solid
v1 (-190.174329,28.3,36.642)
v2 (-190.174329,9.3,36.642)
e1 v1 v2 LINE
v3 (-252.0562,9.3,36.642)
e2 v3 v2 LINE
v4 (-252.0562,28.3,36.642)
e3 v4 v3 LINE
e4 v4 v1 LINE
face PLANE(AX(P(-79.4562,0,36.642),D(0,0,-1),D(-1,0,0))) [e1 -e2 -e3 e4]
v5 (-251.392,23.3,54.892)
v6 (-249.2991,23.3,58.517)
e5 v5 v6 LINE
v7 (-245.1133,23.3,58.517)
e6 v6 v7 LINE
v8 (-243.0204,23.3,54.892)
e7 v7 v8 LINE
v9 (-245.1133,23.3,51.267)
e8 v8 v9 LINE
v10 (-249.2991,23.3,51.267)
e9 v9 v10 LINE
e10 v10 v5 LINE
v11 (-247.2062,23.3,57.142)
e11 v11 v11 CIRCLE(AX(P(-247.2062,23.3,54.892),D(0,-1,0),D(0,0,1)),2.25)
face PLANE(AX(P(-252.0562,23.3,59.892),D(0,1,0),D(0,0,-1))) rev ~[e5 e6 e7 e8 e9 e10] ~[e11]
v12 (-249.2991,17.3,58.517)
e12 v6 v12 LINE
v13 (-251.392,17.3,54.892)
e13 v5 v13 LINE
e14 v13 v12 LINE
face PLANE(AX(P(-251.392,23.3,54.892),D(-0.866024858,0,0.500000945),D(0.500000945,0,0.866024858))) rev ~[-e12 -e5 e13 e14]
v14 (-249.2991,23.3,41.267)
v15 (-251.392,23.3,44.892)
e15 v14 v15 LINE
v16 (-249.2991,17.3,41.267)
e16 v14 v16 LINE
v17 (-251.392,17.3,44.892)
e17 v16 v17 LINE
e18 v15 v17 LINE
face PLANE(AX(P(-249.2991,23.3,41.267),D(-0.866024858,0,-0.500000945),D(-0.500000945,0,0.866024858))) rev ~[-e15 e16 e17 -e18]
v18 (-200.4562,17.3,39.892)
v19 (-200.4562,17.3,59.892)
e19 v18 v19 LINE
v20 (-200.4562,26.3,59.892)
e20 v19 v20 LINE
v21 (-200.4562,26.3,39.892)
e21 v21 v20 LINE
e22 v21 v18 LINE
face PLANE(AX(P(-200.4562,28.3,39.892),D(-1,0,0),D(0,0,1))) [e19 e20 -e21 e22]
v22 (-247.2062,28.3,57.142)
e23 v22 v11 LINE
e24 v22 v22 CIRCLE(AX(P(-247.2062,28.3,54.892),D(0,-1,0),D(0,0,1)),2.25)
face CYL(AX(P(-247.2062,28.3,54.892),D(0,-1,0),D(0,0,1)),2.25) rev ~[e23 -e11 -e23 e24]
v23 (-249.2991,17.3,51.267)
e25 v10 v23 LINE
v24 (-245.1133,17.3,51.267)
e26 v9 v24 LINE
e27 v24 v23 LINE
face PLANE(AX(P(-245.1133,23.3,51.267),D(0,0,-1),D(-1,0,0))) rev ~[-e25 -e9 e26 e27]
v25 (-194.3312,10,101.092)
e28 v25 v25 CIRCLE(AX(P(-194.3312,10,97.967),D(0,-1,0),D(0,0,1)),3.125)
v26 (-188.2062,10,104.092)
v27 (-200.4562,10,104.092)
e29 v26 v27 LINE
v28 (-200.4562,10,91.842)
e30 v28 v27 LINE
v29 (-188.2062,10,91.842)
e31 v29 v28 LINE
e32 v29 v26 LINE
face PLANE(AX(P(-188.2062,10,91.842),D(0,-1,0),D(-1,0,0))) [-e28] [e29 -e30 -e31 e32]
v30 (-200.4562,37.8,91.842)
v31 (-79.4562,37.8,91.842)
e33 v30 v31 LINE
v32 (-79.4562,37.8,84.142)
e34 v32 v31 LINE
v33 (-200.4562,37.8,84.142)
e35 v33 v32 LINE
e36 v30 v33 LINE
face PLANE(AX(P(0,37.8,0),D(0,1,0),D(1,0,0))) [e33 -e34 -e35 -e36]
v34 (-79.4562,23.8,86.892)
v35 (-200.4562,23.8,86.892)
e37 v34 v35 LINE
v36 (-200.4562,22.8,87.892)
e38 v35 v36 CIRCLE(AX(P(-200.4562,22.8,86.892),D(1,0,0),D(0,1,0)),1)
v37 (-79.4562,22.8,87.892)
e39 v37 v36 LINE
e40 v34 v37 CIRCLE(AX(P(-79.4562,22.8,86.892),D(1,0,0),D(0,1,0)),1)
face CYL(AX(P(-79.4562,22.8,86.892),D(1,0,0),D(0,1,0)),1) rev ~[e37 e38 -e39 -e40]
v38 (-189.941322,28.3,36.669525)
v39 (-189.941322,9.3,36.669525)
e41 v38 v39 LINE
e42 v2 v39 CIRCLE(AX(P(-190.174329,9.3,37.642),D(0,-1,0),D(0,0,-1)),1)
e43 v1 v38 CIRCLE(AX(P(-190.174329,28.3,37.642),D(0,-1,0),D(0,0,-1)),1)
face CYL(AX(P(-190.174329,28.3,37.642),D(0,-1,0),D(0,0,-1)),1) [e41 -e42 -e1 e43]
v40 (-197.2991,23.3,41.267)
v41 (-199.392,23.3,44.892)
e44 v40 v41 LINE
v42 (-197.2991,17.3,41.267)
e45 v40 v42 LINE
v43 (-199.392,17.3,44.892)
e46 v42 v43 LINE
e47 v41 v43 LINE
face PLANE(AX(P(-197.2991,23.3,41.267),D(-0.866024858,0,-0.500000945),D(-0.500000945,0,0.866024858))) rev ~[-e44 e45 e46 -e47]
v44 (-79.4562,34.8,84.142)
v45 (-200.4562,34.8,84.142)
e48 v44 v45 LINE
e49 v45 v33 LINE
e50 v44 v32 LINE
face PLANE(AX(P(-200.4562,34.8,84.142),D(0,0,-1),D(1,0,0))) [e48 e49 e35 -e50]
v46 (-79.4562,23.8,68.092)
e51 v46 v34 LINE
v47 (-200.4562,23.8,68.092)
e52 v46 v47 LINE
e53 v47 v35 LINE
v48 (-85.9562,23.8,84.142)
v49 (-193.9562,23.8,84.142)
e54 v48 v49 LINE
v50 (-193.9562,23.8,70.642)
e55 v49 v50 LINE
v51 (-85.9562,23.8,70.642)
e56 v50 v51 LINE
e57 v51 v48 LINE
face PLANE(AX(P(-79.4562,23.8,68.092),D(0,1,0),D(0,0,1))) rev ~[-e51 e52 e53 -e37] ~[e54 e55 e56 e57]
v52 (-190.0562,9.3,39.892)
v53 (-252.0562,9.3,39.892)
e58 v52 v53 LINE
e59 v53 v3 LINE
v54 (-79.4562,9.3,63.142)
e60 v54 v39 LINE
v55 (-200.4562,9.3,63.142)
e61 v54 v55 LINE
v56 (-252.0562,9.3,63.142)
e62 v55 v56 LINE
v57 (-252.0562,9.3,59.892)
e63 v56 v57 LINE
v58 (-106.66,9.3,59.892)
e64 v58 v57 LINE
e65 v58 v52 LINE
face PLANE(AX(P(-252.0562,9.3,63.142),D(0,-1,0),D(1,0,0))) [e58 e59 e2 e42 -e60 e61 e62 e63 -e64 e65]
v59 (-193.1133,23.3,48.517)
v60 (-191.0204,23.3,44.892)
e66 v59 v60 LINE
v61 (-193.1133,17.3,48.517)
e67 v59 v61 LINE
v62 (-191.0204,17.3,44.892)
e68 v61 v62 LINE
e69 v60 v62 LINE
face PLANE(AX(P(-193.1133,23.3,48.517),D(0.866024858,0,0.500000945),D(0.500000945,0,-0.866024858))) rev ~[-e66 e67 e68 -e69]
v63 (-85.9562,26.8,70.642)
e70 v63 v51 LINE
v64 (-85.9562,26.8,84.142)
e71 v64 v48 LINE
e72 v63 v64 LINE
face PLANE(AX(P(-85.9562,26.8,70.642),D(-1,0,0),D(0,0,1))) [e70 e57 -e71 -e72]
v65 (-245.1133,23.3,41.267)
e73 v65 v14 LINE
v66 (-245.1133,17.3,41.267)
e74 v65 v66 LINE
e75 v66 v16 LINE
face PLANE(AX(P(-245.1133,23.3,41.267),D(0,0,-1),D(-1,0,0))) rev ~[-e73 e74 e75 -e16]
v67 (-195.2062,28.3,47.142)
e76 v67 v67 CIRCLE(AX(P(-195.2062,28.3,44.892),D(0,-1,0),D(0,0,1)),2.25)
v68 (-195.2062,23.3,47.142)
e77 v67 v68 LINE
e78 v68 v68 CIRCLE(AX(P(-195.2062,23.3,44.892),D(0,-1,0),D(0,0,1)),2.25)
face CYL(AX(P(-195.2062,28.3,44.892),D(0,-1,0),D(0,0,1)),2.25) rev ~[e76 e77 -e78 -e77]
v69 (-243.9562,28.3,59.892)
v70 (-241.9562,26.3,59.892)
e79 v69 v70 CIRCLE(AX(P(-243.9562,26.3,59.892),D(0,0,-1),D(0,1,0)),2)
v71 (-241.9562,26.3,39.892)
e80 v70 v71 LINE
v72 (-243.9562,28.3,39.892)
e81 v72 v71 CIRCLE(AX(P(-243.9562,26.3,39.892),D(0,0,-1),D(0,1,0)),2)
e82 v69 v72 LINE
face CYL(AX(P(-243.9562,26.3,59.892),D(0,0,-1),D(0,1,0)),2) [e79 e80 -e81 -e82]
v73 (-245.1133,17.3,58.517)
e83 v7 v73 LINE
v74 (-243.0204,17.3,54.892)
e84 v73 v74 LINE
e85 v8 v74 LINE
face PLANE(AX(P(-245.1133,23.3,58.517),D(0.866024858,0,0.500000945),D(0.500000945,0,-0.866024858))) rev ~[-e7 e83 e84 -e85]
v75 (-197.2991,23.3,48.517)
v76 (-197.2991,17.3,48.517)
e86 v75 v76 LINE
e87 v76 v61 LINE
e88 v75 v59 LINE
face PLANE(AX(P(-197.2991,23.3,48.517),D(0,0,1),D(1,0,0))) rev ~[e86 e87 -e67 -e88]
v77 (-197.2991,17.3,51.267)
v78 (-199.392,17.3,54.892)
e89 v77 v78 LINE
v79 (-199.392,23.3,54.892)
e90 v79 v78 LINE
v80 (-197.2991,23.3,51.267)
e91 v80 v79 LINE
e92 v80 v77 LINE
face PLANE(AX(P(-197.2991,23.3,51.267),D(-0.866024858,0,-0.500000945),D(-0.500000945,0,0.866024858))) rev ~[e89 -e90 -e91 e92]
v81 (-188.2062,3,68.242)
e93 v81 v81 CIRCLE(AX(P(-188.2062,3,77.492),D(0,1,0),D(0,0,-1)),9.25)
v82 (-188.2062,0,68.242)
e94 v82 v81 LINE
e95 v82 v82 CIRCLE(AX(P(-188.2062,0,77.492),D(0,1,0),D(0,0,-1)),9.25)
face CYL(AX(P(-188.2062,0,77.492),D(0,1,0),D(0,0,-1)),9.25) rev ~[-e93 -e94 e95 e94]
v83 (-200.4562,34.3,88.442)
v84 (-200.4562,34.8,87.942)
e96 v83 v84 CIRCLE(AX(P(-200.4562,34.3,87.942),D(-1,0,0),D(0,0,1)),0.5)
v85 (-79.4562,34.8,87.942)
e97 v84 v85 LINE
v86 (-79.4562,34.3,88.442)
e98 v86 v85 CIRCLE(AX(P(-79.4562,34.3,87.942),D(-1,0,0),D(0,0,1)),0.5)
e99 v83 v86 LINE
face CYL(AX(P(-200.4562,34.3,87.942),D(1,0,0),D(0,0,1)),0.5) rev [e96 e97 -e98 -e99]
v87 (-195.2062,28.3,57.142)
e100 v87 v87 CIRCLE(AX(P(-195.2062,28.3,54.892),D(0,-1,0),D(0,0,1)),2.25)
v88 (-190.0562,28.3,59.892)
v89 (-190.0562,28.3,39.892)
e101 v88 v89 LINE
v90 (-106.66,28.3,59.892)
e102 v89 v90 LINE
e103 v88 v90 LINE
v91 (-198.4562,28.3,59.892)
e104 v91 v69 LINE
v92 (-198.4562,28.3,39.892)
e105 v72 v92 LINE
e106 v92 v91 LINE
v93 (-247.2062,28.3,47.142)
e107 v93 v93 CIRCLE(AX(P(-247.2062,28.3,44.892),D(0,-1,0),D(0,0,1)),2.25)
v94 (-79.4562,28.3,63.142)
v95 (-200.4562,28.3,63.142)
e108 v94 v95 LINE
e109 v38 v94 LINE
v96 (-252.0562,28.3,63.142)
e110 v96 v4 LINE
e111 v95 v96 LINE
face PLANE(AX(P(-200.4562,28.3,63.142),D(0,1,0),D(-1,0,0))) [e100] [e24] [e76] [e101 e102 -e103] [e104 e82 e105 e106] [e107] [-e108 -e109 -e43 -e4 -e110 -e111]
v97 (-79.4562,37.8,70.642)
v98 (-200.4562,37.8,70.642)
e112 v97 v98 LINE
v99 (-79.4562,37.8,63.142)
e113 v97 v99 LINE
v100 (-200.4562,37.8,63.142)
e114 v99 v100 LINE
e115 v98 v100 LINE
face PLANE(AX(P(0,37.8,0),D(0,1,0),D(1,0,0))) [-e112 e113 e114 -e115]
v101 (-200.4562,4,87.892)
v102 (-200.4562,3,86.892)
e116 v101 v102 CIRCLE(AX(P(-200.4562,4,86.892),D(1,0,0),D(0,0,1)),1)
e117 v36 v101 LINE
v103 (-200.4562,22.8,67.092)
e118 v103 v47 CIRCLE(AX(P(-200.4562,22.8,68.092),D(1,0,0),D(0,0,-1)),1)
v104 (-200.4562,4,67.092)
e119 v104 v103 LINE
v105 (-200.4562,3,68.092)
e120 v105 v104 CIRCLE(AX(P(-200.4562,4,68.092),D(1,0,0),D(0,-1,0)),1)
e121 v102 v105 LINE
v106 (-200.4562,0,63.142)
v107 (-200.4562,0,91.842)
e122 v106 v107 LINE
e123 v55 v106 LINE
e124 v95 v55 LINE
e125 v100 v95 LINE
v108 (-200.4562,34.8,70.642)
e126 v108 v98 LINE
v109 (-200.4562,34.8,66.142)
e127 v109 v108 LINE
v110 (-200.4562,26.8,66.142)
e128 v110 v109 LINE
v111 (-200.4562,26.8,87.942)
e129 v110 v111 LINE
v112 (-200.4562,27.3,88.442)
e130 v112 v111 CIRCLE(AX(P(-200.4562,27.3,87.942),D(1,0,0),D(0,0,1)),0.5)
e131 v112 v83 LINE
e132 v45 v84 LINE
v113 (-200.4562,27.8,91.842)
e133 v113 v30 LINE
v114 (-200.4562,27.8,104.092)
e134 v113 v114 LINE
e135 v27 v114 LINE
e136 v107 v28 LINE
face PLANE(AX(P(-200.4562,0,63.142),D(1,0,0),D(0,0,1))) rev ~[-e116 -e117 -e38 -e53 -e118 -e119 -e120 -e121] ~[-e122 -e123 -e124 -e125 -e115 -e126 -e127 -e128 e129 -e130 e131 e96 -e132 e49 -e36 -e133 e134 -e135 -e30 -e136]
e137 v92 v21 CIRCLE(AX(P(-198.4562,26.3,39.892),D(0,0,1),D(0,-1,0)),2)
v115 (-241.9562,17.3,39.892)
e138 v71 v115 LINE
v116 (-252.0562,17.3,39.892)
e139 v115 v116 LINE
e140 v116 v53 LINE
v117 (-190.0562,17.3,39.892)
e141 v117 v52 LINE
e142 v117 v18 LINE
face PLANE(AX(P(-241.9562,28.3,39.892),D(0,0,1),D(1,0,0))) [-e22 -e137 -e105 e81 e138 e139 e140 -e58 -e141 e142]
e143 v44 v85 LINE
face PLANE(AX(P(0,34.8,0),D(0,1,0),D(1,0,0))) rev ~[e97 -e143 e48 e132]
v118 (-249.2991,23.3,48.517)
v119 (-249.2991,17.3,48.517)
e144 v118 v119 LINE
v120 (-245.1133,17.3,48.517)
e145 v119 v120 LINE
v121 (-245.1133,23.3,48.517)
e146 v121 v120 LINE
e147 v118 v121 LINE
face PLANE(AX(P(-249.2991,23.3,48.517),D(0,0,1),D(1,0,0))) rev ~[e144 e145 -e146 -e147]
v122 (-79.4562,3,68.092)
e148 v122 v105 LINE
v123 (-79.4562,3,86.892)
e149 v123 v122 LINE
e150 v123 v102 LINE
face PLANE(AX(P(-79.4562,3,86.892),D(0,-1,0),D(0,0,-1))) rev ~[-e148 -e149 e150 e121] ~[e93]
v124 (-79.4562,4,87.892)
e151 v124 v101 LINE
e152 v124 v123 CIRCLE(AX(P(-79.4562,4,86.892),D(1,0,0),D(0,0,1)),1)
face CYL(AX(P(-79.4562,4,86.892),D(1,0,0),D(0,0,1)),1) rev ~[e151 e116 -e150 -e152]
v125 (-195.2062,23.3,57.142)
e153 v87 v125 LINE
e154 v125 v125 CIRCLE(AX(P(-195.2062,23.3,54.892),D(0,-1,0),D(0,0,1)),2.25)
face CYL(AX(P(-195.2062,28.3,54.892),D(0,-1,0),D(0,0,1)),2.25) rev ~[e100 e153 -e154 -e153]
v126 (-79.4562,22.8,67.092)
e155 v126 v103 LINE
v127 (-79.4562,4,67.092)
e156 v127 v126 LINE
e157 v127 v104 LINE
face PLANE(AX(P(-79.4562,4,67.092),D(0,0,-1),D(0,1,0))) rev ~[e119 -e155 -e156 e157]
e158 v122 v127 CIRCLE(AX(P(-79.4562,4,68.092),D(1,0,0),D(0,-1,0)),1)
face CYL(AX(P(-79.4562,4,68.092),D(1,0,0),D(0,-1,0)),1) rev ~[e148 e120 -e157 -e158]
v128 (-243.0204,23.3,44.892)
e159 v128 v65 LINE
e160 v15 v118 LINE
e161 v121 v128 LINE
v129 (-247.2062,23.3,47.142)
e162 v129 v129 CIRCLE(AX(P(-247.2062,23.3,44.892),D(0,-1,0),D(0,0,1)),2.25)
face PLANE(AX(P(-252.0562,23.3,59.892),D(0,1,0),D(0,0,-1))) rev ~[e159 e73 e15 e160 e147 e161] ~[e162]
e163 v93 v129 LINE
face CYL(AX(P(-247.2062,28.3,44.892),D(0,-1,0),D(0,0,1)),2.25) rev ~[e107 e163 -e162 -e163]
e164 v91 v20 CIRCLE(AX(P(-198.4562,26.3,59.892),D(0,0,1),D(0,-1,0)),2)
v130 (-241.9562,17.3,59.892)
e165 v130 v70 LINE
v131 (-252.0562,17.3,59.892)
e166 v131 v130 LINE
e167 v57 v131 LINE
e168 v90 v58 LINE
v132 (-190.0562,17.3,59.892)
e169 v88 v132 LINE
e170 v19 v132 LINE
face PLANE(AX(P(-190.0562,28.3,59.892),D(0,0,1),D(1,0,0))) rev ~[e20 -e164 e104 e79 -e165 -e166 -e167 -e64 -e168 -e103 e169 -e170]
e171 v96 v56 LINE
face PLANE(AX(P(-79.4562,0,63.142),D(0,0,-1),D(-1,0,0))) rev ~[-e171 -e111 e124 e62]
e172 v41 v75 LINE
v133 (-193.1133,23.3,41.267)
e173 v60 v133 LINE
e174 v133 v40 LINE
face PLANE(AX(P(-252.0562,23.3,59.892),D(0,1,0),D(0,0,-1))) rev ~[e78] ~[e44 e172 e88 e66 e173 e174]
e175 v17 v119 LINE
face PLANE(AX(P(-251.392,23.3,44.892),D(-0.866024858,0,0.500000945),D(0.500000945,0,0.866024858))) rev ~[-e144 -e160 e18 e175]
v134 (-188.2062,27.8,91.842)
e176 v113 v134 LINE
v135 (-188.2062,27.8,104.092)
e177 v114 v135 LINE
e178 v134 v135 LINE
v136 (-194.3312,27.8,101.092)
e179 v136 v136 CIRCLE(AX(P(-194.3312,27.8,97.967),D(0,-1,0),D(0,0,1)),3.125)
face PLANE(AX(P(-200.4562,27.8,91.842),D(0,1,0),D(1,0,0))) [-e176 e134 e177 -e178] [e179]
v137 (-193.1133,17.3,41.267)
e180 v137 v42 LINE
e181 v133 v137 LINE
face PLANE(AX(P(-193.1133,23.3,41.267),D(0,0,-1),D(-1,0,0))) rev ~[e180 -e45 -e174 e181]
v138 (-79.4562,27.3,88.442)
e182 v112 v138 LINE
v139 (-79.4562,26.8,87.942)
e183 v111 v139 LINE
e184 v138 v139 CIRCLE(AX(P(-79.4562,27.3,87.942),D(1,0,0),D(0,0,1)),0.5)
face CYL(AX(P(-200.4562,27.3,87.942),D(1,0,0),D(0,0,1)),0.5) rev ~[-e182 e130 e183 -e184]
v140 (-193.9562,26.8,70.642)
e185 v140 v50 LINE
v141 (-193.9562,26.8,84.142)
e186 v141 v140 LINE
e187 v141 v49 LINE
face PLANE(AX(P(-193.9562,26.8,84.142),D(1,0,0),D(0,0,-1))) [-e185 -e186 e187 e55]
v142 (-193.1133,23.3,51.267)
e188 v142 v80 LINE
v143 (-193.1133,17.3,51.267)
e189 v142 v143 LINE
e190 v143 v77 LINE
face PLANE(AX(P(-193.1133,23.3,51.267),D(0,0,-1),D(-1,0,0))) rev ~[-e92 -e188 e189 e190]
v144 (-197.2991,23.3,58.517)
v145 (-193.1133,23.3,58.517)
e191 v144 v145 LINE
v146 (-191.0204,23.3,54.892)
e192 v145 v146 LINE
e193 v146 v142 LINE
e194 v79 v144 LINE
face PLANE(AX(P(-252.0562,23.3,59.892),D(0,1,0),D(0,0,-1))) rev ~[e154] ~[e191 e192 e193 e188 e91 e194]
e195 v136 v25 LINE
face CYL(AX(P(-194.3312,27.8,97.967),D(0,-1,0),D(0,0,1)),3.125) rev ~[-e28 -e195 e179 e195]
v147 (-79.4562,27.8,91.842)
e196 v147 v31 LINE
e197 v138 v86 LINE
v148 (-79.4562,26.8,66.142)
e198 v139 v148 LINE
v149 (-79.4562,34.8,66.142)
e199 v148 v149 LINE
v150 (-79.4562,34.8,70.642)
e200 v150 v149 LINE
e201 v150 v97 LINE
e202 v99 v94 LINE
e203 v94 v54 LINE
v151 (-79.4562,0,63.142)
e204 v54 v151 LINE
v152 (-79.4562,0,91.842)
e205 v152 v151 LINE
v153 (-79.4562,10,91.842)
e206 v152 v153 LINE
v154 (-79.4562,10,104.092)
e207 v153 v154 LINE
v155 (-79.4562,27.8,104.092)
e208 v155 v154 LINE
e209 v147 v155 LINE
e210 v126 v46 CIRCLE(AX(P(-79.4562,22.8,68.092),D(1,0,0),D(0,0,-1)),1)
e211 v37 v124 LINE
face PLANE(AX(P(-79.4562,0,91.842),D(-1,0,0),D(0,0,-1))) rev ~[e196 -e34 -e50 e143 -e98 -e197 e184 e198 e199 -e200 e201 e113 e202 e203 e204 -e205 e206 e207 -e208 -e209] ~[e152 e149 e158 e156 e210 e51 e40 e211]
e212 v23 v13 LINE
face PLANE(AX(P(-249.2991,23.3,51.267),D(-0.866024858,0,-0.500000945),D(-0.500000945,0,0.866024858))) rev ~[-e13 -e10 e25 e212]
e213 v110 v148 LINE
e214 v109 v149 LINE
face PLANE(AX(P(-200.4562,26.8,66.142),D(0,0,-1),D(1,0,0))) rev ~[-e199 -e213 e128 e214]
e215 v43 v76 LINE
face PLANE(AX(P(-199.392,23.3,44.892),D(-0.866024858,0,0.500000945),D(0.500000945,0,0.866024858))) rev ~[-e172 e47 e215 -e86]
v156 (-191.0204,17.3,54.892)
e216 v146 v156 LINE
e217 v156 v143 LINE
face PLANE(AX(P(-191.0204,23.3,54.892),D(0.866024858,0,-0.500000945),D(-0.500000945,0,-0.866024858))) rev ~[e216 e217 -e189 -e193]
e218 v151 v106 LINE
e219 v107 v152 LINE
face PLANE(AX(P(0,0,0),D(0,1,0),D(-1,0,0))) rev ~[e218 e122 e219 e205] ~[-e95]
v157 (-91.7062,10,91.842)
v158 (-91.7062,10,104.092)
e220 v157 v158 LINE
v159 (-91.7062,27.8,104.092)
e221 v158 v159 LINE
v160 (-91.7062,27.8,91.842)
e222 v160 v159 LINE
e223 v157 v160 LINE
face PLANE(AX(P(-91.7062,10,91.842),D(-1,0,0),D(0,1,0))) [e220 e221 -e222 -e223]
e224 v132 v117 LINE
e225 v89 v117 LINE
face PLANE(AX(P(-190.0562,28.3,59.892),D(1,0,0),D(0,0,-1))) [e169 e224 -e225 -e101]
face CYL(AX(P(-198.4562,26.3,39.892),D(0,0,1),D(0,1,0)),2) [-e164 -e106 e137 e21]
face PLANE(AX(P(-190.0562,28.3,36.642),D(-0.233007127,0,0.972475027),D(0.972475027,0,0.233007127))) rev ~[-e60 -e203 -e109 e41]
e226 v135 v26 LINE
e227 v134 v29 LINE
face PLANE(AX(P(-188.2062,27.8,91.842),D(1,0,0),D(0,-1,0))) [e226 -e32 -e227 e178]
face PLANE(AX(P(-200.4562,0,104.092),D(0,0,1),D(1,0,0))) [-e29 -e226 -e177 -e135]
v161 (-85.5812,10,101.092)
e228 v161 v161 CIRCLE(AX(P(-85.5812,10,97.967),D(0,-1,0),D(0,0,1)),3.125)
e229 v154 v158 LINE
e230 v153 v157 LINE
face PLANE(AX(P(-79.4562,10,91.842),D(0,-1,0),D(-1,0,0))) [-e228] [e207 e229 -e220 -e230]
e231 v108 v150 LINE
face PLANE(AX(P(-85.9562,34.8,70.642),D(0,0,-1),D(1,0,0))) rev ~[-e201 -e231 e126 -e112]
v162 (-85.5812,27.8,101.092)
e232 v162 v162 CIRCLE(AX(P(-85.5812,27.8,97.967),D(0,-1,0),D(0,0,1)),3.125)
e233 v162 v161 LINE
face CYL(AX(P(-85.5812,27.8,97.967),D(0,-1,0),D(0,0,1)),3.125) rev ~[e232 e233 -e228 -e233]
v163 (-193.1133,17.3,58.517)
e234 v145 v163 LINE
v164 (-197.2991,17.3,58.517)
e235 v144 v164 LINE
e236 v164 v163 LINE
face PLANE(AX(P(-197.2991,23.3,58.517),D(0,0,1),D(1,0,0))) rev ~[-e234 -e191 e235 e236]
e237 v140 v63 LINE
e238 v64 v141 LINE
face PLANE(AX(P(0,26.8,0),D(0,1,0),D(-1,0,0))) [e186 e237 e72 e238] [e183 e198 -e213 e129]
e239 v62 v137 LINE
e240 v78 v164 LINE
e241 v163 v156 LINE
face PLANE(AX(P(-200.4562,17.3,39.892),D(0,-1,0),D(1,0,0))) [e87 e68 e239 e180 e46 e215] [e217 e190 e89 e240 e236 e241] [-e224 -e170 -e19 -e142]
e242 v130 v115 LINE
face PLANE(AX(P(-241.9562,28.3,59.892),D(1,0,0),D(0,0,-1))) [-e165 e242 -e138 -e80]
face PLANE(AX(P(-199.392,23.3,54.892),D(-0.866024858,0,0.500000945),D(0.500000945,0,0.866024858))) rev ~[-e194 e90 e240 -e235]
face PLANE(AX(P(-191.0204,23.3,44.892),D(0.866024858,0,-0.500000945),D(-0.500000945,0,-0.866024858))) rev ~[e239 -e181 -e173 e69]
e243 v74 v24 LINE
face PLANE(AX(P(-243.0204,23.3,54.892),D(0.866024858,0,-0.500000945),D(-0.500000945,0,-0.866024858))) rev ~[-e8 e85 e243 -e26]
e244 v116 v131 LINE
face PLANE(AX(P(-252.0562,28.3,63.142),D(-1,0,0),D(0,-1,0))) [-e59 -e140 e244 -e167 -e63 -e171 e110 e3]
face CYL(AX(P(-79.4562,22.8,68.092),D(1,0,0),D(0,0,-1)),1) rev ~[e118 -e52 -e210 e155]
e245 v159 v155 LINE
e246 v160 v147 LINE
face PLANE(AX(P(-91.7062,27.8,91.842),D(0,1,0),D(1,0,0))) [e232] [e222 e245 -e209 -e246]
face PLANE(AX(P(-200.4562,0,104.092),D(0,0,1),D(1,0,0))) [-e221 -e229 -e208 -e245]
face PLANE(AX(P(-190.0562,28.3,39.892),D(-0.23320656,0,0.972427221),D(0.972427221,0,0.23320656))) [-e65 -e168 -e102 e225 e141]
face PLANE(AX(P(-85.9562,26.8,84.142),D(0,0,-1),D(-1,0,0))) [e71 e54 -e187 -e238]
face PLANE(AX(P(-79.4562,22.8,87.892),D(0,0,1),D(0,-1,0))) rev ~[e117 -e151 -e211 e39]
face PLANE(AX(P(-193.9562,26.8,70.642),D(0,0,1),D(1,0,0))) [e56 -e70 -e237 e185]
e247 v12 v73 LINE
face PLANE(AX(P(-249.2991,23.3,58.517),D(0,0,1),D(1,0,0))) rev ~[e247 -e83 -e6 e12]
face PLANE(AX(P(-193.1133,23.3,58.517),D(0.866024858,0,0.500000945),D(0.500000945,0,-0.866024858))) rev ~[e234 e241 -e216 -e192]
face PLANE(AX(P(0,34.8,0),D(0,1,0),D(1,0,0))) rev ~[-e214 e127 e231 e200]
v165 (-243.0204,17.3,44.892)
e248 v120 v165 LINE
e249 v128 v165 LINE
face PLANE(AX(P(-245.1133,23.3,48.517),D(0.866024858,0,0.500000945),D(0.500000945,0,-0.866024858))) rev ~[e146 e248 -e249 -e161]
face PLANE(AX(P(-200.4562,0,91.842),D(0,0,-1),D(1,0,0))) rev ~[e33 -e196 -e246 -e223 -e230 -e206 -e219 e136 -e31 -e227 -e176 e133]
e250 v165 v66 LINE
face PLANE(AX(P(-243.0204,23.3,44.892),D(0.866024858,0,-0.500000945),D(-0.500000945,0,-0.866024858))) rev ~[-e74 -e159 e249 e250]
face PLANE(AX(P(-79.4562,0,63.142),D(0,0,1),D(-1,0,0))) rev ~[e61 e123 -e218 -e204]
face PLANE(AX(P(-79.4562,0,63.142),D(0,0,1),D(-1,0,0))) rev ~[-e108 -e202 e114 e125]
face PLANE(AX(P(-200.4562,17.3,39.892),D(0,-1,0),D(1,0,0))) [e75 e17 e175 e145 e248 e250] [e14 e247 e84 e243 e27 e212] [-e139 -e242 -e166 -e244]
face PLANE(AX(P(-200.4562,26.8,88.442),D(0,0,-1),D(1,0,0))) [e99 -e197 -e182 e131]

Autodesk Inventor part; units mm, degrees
ref_plane "YZ Plane" through (0, 0, 0) normal (1, 0, 0) x (0, 1, 0)
ref_plane "XZ Plane" through (0, 0, 0) normal (0, 1, 0) x (-1, 0, 0)
ref_plane "XY Plane" through (0, 0, 0) normal (0, 0, 1) x (1, 0, 0)
sketch "Sketch1" plane through (0, 0, 0) normal (0, 1, 0) x (-1, 0, 0)
  line L0 (200.4562, 91.842) -> (79.4562, 91.842)
  line L1 (79.4562, 91.842) -> (79.4562, 63.142)
  line L2 (79.4562, 63.142) -> (200.4562, 63.142)
  line L3 (200.4562, 63.142) -> (200.4562, 91.842)
  point P0 (0, 0)
  dimension "d0" = 121
  dimension "d1" = 28.7
extrude "Extrusion1" add sketch "Sketch1" along normal blind 26.8
sketch "Sketch2" plane through (-79.4562, 0, 91.842) normal (1, 0, 0) x (0, 0, -1)
  line L0 (4.95, 3) -> (23.75, 3)
  line L1 (24.75, 4) -> (24.75, 22.8)
  line L2 (23.75, 23.8) -> (4.95, 23.8)
  line L3 (3.95, 22.8) -> (3.95, 4)
  line L4 (28.7, 0) -> (28.7, 26.8) projected
  line L5 (0, 0) -> (0, 26.8) projected
  line L6 (0, 26.8) -> (28.7, 26.8) projected
  arc A0 (24.75, 22.8) -> (23.75, 23.8) centre (23.75, 22.8) ccw
  arc A1 (23.75, 3) -> (24.75, 4) centre (23.75, 4) ccw
  arc A2 (3.95, 4) -> (4.95, 3) centre (4.95, 4) ccw
  arc A3 (4.95, 23.8) -> (3.95, 22.8) centre (4.95, 22.8) ccw
  line L7 (0, 0) -> (28.7, 0) projected
  point P0 (91.842, 0)
  point P1 (3.95, 3)
  point P2 (24.75, 23.8)
  point P3 (3.95, 23.8)
  dimension "d4" = 20.8
  dimension "d5" = 20.8
  dimension "d7" = 3.95
  dimension "d8" = 3
  dimension "d9" = 1
  dimension "d137" = 3.95
  dimension "d138" = 3
extrude "Extrusion2" cut sketch "Sketch2" against normal blind 121 contours A2 L3 A3 L2 A0 L1 A1 L0
sketch "Sketch3" plane through (0, 0, 0) normal (0, -1, 0) x (1, 0, 0)
  line L0 (-200.4562, 63.142) -> (-200.4562, 91.842) projected
  line L1 (-200.4562, 91.842) -> (-79.4562, 91.842) projected
  line L2 (-79.4562, 63.142) -> (-200.4562, 63.142) projected
  circle A0 centre (-188.2062, 77.492) radius 9.25
  line L3 (-79.4562, 91.842) -> (-79.4562, 63.142) projected
  point P0 (0, 0)
  dimension "d20" = 14.35
  dimension "d21" = 18.5
  dimension "d287" = 12.25
hole "Hole1" at (-188.2062, 0, 77.492) direction (0, 1, 0) diameter 18.5 depth 5
sketch "Sketch4" plane through (0, 26.8, 0) normal (0, 1, 0) x (1, 0, 0)
  line L0 (-85.9562, -84.142) -> (-193.9562, -84.142)
  line L1 (-193.9562, -84.142) -> (-193.9562, -70.642)
  line L2 (-193.9562, -70.642) -> (-85.9562, -70.642)
  line L3 (-85.9562, -70.642) -> (-85.9562, -84.142)
  line L4 (-79.4562, -91.842) -> (-79.4562, -63.142) projected
  line L5 (-200.4562, -63.142) -> (-200.4562, -91.842) projected
  point P0 (0, 0)
  point P1 (-79.4562, -86.142)
  point P2 (-79.4562, -65.142)
  point P3 (-179.4562, -65.142)
  point P4 (-179.4562, -86.142)
  point P5 (-200.4562, -91.842)
  point P6 (-79.4562, -87.892)
  dimension "d30" = 6.5
  dimension "d31" = 6.5
  dimension "d32" = 13.5
  dimension "d41" = 3.75
extrude "Extrusion3" cut sketch "Sketch4" against normal blind 5
sketch "Sketch5" plane through (0, 26.8, 0) normal (0, 1, 0) x (1, 0, 0)
  line L0 (-79.4562, -91.842) -> (-79.4562, -63.142) projected
  line L1 (-200.4562, -63.142) -> (-200.4562, -91.842) projected
  line L2 (-79.4562, -91.842) -> (-200.4562, -91.842)
  line L3 (-200.4562, -91.842) -> (-200.4562, -88.442)
  line L4 (-200.4562, -88.442) -> (-79.4562, -88.442)
  line L5 (-79.4562, -88.442) -> (-79.4562, -91.842)
  line L6 (-79.4562, -63.142) -> (-200.4562, -63.142)
  line L7 (-200.4562, -63.142) -> (-200.4562, -66.142)
  line L8 (-200.4562, -66.142) -> (-79.4562, -66.142)
  line L9 (-79.4562, -66.142) -> (-79.4562, -63.142)
  line L10 (-79.4562, -63.142) -> (-200.4562, -63.142) projected
  line L11 (-79.4562, -87.892) -> (-79.4562, -87.642)
  line L12 (-79.4562, -87.642) -> (-79.4562, -81.492)
  point P0 (0, 0)
  point P1 (-79.4562, -66.142)
  dimension "d38" = 3.4
  dimension "d39" = 3
  dimension "d40" = 0
  dimension "d42" = 22.3
  dimension "d288" = 0.25
  dimension "d289" = 6.15
extrude "Extrusion4" add sketch "Sketch5" along normal blind 8 contours L2 L1 L4 L0 | L1 L6 L0 L8
sketch "Sketch6" plane through (0, 34.8, 0) normal (0, 1, 0) x (1, 0, 0)
  line L0 (-200.4562, -91.842) -> (-79.4562, -91.842) projected
  line L1 (-200.4562, -66.142) -> (-200.4562, -88.442) projected
  line L2 (-79.4562, -91.842) -> (-200.4562, -91.842)
  line L3 (-200.4562, -91.842) -> (-200.4562, -84.142)
  line L4 (-200.4562, -84.142) -> (-79.4562, -84.142)
  line L5 (-79.4562, -84.142) -> (-79.4562, -91.842)
  line L6 (-79.4562, -63.142) -> (-200.4562, -63.142) projected
  line L7 (-79.4562, -63.142) -> (-200.4562, -63.142)
  line L8 (-200.4562, -63.142) -> (-200.4562, -70.642)
  line L9 (-200.4562, -70.642) -> (-79.4562, -70.642)
  line L10 (-79.4562, -70.642) -> (-79.4562, -63.142)
  line L11 (-85.9562, -84.142) -> (-193.9562, -84.142) projected
  line L12 (-193.9562, -70.642) -> (-85.9562, -70.642) projected
  point P0 (0, 0)
  point P1 (-200.4562, -91.842)
  dimension "d45" = 0
  dimension "d46" = 0
extrude "Extrusion5" add sketch "Sketch6" along normal blind 3
sketch "Sketch11" plane through (-79.4562, 0, 63.142) normal (0, 0, -1) x (-1, 0, 0)
  line L0 (172.6, 9.3) -> (0, 9.3)
  line L1 (0, 9.3) -> (0, 28.3)
  line L2 (0, 28.3) -> (172.6, 28.3)
  line L3 (172.6, 28.3) -> (172.6, 9.3)
  line L4 (0, 37.8) -> (121, 37.8) projected
  line L5 (0, 0) -> (0, 37.8) projected
  line L6 (0, 0) -> (121, 0) projected
  line L7 (0, 28.3) -> (0, 49.8)
  line L8 (0, 34.8) -> (121, 34.8) projected
  line L9 (121, 0) -> (121, 37.8) projected
  point P0 (-79.4562, 0)
  point P1 (0, 3)
  dimension "d97" = 0
  dimension "d105" = 12
  dimension "d110" = 9.5
  dimension "d111" = 21.5
  dimension "d113" = 19
  dimension "d114" = 9.3
  dimension "d174" = 51.6
extrude "Extrusion9" add sketch "Sketch11" along normal blind 26.5 contours L0 L9 L2 L3 | L0 L1 L2 L9
sketch "Sketch12" plane through (-252.0562, 28.3, 63.142) normal (0, 1, 0) x (1, 0, 0)
  line L0 (51.6, 3.25) -> (10.1, 3.25)
  line L1 (10.1, 3.25) -> (10.1, 23.25)
  line L2 (10.1, 23.25) -> (51.6, 23.25)
  line L3 (51.6, 23.25) -> (51.6, 3.25)
  line L4 (0, 0) -> (51.6, 0) projected
  line L5 (0, 26.5) -> (172.6, 26.5) projected
  line L6 (0, 0) -> (0, 26.5) projected
  line L7 (51.6, 0) -> (51.6, -7.5) projected
  line L8 (172.6, 0) -> (51.6, 0) projected
  line L9 (172.6, 0) -> (172.6, 26.5) projected
  point P0 (252.0562, 63.142)
  point P1 (49.2771, 26.5)
  point P2 (51.6, -3.75)
  point P3 (82, 26.5)
  dimension "d120" = 41.5
  dimension "d121" = 20
  dimension "d122" = 3.25
  dimension "d123" = 3.25
  dimension "d127" = 0
  dimension "d128" = 10.1
extrude "Extrusion10" cut sketch "Sketch12" against normal blind 26.5 contours L0 L1 L2 L3
sketch "Sketch14" plane through (-252.0562, 28.3, 63.142) normal (0, 1, 0) x (1, 0, 0)
  circle A0 centre (4.85, 8.25) radius 2.25
  circle A1 centre (4.85, 18.25) radius 2.25
  circle A2 centre (56.85, 8.25) radius 2.25
  circle A3 centre (56.85, 18.25) radius 2.25
  line L0 (10.1, 3.25) -> (10.1, 23.25) projected
  line L1 (51.6, 23.25) -> (51.6, 3.25) projected
  line L2 (0, 0) -> (0, 26.5) projected
  line L3 (51.6, 3.25) -> (10.1, 3.25) projected
  point P0 (252.0562, 63.142)
  dimension "d141" = 4.5
  dimension "d142" = 4.5
  dimension "d143" = 4.5
  dimension "d144" = 4.5
  dimension "d145" = 5.25
  dimension "d146" = 5.25
  dimension "d148" = 4.85
  dimension "d149" = 5.25
  dimension "d150" = 10
  dimension "d151" = 5
  dimension "d153" = 5.25
  dimension "d154" = 10
  dimension "d155" = 5
sketch "Sketch15" plane through (-252.0562, 9.3, 63.142) normal (-1, 0, 0) x (0, 0, 1)
  line L0 (-23.25, 0) -> (-3.25, 0)
  line L1 (-3.25, 0) -> (-3.25, 14)
  line L2 (-3.25, 14) -> (-23.25, 14)
  line L3 (-23.25, 14) -> (-23.25, 0)
  line L4 (-26.5, 0) -> (-26.5, 19) projected
  line L5 (0, 0) -> (0, 19) projected
  line L6 (0, 0) -> (-26.5, 0) projected
  line L7 (0, 19) -> (-26.5, 19) projected
  point P0 (-63.142, -9.3)
  dimension "d156" = 3.25
  dimension "d157" = 3.25
  dimension "d158" = 0
  dimension "d159" = 5
extrude "Extrusion11" cut sketch "Sketch15" against normal blind 62 contours L3 L2 L1 L0
hole "Hole3" at (-195.2062, 28.3, 44.892) at (-195.2062, 28.3, 54.892) at (-247.2062, 28.3, 54.892) at (-247.2062, 28.3, 44.892) direction (0, -1, 0) diameter 4.5 depth 6
sketch "Sketch19" plane through (-200.4562, 23.3, 39.892) normal (0, -1, 0) x (1, 0, 0)
  circle A0 centre (5.25, 5) radius 2.25 projected
  line L0 (3.1571, 1.375) -> (1.0642, 5)
  line L1 (1.0642, 5) -> (3.1571, 8.625)
  line L2 (3.1571, 8.625) -> (7.3429, 8.625)
  line L3 (7.3429, 8.625) -> (9.4358, 5)
  line L4 (9.4358, 5) -> (7.3429, 1.375)
  line L5 (7.3429, 1.375) -> (3.1571, 1.375)
  circle A1 centre (5.25, 15) radius 2.25 projected
  line L6 (3.1571, 11.375) -> (1.0642, 15)
  line L7 (1.0642, 15) -> (3.1571, 18.625)
  line L8 (3.1571, 18.625) -> (7.3429, 18.625)
  line L9 (7.3429, 18.625) -> (9.4358, 15)
  line L10 (9.4358, 15) -> (7.3429, 11.375)
  line L11 (7.3429, 11.375) -> (3.1571, 11.375)
  circle A2 centre (-46.75, 5) radius 2.25 projected
  line L12 (-50.9358, 5) -> (-48.8429, 8.625)
  line L13 (-48.8429, 8.625) -> (-44.6571, 8.625)
  line L14 (-44.6571, 8.625) -> (-42.5642, 5)
  line L15 (-42.5642, 5) -> (-44.6571, 1.375)
  line L16 (-44.6571, 1.375) -> (-48.8429, 1.375)
  line L17 (-48.8429, 1.375) -> (-50.9358, 5)
  circle A3 centre (-46.75, 15) radius 2.25 projected
  line L18 (-50.9358, 15) -> (-48.8429, 18.625)
  line L19 (-48.8429, 18.625) -> (-44.6571, 18.625)
  line L20 (-44.6571, 18.625) -> (-42.5642, 15)
  line L21 (-42.5642, 15) -> (-44.6571, 11.375)
  line L22 (-44.6571, 11.375) -> (-48.8429, 11.375)
  line L23 (-48.8429, 11.375) -> (-50.9358, 15)
  line L24 (0, 0) -> (0, 20) projected
  line L25 (0, 0) -> (0, 20)
  line L26 (10.4, 0) -> (0, 0)
  line L27 (0, 0) -> (0, 20)
  line L28 (0, 20) -> (10.4, 20)
  line L29 (10.4, 20) -> (10.4, 0)
  line L30 (-51.6, 0) -> (-51.6, 20) projected
  line L31 (-41.5, 0) -> (-51.6, 0)
  line L32 (-51.6, 0) -> (-51.6, 20)
  line L33 (-51.6, 20) -> (-41.5, 20)
  line L34 (-41.5, 20) -> (-41.5, 0)
  point P0 (200.4562, -39.892)
  point P1 (5.25, 15)
  point P2 (-51.6, 0)
  dimension "d191" = 7.25
  dimension "d194" = 7.25
  dimension "d197" = 0
  dimension "d198" = 0
  dimension "d199" = 7.25
  dimension "d200" = 7.25
extrude "Extrusion14" add sketch "Sketch19" along normal blind 6 contours L24 L28 L29 L26 | L30 L33 L34 L31
fillet "Fillet8" radius 2 2 edges at (-200.4562, 28.3, 49.892) (-241.9562, 28.3, 49.892)
sketch "Sketch25" plane through (-200.4562, 0, 91.842) normal (0, 0, 1) x (1, 0, 0)
  line L0 (0, 27.8) -> (12.25, 27.8)
  line L1 (12.25, 27.8) -> (12.25, 10)
  line L2 (12.25, 10) -> (0, 10)
  line L3 (0, 10) -> (0, 27.8)
  line L4 (0, 0) -> (0, 37.8) projected
  line L5 (0, 37.8) -> (121, 37.8) projected
  line L6 (0, 0) -> (121, 0) projected
  line L7 (108.75, 27.8) -> (121, 27.8)
  line L8 (121, 27.8) -> (121, 10)
  line L9 (121, 10) -> (108.75, 10)
  line L10 (108.75, 10) -> (108.75, 27.8)
  line L11 (121, 0) -> (121, 37.8) projected
  point P0 (200.4562, 0)
  dimension "d250" = 0
  dimension "d251" = 37.8
  dimension "d252" = 10
  dimension "d253" = 10
  dimension "d254" = 0
  dimension "d255" = 10
  dimension "d256" = 10
  dimension "d257" = 12.25
  dimension "d258" = 12.25
extrude "Extrusion18" add sketch "Sketch25" along normal blind 12.25 contours L0 L1 L2 L3
extrude "Extrusion19" add sketch "Sketch25" along normal blind 12.25 contours L8 L9 L10 L7
sketch "Sketch26" plane through (-200.4562, 27.8, 91.842) normal (0, 1, 0) x (1, 0, 0)
  circle A0 centre (6.125, -6.125) radius 3.125
  line L0 (12.25, 0) -> (12.25, -12.25) projected
  line L1 (12.25, -12.25) -> (0, -12.25) projected
  circle A1 centre (114.875, -6.125) radius 3.125
  line L2 (121, 0) -> (121, -12.25) projected
  line L3 (121, -12.25) -> (108.75, -12.25) projected
  point P0 (200.4562, 91.842)
  dimension "d263" = 6.25
  dimension "d266" = 6.125
  dimension "d267" = 6.125
  dimension "d268" = 6.25
  dimension "d269" = 6.125
  dimension "d270" = 6.125
hole "Hole5" at (-194.3312, 27.8, 97.967) at (-85.5812, 27.8, 97.967) direction (0, -1, 0) diameter 6.25 depth 20
sketch "Sketch28" plane through (-252.0562, 28.3, 63.142) normal (0, 1, 0) x (1, 0, 0)
  line L0 (172.6, 0) -> (172.6, 26.5) projected
  line L1 (62, 3.25) -> (62, 23.25) projected
  line L2 (0, 3.25) -> (62, 3.25) projected
  line L3 (172.6, 0) -> (172.6, 26.5)
  line L4 (172.6, 26.5) -> (172.6, 0)
  line L5 (172.6, 26.5) -> (62, 26.5)
  line L6 (0, 26.5) -> (172.6, 26.5) projected
  line L7 (62, 26.5) -> (172.6, 0)
  line L8 (62, 23.25) -> (158.9481, 0)
  line L9 (172.6, 0) -> (51.6, 0) projected
  line L10 (62, 3.25) -> (145.3962, 3.25)
  point P0 (252.0562, 63.142)
extrude "Extrusion20" cut sketch "Sketch28" against normal blind 30
fillet "Fillet12" radius 1 1 edges at (-190.0562, 18.8, 36.642)
fillet "Fillet13" radius 0.5 1 edges at (-139.9562, 34.8, 88.442)
fillet "Fillet14" radius 0.5 1 edges at (-139.9562, 26.8, 88.442)
properties part number "shaftHolder4V1"
